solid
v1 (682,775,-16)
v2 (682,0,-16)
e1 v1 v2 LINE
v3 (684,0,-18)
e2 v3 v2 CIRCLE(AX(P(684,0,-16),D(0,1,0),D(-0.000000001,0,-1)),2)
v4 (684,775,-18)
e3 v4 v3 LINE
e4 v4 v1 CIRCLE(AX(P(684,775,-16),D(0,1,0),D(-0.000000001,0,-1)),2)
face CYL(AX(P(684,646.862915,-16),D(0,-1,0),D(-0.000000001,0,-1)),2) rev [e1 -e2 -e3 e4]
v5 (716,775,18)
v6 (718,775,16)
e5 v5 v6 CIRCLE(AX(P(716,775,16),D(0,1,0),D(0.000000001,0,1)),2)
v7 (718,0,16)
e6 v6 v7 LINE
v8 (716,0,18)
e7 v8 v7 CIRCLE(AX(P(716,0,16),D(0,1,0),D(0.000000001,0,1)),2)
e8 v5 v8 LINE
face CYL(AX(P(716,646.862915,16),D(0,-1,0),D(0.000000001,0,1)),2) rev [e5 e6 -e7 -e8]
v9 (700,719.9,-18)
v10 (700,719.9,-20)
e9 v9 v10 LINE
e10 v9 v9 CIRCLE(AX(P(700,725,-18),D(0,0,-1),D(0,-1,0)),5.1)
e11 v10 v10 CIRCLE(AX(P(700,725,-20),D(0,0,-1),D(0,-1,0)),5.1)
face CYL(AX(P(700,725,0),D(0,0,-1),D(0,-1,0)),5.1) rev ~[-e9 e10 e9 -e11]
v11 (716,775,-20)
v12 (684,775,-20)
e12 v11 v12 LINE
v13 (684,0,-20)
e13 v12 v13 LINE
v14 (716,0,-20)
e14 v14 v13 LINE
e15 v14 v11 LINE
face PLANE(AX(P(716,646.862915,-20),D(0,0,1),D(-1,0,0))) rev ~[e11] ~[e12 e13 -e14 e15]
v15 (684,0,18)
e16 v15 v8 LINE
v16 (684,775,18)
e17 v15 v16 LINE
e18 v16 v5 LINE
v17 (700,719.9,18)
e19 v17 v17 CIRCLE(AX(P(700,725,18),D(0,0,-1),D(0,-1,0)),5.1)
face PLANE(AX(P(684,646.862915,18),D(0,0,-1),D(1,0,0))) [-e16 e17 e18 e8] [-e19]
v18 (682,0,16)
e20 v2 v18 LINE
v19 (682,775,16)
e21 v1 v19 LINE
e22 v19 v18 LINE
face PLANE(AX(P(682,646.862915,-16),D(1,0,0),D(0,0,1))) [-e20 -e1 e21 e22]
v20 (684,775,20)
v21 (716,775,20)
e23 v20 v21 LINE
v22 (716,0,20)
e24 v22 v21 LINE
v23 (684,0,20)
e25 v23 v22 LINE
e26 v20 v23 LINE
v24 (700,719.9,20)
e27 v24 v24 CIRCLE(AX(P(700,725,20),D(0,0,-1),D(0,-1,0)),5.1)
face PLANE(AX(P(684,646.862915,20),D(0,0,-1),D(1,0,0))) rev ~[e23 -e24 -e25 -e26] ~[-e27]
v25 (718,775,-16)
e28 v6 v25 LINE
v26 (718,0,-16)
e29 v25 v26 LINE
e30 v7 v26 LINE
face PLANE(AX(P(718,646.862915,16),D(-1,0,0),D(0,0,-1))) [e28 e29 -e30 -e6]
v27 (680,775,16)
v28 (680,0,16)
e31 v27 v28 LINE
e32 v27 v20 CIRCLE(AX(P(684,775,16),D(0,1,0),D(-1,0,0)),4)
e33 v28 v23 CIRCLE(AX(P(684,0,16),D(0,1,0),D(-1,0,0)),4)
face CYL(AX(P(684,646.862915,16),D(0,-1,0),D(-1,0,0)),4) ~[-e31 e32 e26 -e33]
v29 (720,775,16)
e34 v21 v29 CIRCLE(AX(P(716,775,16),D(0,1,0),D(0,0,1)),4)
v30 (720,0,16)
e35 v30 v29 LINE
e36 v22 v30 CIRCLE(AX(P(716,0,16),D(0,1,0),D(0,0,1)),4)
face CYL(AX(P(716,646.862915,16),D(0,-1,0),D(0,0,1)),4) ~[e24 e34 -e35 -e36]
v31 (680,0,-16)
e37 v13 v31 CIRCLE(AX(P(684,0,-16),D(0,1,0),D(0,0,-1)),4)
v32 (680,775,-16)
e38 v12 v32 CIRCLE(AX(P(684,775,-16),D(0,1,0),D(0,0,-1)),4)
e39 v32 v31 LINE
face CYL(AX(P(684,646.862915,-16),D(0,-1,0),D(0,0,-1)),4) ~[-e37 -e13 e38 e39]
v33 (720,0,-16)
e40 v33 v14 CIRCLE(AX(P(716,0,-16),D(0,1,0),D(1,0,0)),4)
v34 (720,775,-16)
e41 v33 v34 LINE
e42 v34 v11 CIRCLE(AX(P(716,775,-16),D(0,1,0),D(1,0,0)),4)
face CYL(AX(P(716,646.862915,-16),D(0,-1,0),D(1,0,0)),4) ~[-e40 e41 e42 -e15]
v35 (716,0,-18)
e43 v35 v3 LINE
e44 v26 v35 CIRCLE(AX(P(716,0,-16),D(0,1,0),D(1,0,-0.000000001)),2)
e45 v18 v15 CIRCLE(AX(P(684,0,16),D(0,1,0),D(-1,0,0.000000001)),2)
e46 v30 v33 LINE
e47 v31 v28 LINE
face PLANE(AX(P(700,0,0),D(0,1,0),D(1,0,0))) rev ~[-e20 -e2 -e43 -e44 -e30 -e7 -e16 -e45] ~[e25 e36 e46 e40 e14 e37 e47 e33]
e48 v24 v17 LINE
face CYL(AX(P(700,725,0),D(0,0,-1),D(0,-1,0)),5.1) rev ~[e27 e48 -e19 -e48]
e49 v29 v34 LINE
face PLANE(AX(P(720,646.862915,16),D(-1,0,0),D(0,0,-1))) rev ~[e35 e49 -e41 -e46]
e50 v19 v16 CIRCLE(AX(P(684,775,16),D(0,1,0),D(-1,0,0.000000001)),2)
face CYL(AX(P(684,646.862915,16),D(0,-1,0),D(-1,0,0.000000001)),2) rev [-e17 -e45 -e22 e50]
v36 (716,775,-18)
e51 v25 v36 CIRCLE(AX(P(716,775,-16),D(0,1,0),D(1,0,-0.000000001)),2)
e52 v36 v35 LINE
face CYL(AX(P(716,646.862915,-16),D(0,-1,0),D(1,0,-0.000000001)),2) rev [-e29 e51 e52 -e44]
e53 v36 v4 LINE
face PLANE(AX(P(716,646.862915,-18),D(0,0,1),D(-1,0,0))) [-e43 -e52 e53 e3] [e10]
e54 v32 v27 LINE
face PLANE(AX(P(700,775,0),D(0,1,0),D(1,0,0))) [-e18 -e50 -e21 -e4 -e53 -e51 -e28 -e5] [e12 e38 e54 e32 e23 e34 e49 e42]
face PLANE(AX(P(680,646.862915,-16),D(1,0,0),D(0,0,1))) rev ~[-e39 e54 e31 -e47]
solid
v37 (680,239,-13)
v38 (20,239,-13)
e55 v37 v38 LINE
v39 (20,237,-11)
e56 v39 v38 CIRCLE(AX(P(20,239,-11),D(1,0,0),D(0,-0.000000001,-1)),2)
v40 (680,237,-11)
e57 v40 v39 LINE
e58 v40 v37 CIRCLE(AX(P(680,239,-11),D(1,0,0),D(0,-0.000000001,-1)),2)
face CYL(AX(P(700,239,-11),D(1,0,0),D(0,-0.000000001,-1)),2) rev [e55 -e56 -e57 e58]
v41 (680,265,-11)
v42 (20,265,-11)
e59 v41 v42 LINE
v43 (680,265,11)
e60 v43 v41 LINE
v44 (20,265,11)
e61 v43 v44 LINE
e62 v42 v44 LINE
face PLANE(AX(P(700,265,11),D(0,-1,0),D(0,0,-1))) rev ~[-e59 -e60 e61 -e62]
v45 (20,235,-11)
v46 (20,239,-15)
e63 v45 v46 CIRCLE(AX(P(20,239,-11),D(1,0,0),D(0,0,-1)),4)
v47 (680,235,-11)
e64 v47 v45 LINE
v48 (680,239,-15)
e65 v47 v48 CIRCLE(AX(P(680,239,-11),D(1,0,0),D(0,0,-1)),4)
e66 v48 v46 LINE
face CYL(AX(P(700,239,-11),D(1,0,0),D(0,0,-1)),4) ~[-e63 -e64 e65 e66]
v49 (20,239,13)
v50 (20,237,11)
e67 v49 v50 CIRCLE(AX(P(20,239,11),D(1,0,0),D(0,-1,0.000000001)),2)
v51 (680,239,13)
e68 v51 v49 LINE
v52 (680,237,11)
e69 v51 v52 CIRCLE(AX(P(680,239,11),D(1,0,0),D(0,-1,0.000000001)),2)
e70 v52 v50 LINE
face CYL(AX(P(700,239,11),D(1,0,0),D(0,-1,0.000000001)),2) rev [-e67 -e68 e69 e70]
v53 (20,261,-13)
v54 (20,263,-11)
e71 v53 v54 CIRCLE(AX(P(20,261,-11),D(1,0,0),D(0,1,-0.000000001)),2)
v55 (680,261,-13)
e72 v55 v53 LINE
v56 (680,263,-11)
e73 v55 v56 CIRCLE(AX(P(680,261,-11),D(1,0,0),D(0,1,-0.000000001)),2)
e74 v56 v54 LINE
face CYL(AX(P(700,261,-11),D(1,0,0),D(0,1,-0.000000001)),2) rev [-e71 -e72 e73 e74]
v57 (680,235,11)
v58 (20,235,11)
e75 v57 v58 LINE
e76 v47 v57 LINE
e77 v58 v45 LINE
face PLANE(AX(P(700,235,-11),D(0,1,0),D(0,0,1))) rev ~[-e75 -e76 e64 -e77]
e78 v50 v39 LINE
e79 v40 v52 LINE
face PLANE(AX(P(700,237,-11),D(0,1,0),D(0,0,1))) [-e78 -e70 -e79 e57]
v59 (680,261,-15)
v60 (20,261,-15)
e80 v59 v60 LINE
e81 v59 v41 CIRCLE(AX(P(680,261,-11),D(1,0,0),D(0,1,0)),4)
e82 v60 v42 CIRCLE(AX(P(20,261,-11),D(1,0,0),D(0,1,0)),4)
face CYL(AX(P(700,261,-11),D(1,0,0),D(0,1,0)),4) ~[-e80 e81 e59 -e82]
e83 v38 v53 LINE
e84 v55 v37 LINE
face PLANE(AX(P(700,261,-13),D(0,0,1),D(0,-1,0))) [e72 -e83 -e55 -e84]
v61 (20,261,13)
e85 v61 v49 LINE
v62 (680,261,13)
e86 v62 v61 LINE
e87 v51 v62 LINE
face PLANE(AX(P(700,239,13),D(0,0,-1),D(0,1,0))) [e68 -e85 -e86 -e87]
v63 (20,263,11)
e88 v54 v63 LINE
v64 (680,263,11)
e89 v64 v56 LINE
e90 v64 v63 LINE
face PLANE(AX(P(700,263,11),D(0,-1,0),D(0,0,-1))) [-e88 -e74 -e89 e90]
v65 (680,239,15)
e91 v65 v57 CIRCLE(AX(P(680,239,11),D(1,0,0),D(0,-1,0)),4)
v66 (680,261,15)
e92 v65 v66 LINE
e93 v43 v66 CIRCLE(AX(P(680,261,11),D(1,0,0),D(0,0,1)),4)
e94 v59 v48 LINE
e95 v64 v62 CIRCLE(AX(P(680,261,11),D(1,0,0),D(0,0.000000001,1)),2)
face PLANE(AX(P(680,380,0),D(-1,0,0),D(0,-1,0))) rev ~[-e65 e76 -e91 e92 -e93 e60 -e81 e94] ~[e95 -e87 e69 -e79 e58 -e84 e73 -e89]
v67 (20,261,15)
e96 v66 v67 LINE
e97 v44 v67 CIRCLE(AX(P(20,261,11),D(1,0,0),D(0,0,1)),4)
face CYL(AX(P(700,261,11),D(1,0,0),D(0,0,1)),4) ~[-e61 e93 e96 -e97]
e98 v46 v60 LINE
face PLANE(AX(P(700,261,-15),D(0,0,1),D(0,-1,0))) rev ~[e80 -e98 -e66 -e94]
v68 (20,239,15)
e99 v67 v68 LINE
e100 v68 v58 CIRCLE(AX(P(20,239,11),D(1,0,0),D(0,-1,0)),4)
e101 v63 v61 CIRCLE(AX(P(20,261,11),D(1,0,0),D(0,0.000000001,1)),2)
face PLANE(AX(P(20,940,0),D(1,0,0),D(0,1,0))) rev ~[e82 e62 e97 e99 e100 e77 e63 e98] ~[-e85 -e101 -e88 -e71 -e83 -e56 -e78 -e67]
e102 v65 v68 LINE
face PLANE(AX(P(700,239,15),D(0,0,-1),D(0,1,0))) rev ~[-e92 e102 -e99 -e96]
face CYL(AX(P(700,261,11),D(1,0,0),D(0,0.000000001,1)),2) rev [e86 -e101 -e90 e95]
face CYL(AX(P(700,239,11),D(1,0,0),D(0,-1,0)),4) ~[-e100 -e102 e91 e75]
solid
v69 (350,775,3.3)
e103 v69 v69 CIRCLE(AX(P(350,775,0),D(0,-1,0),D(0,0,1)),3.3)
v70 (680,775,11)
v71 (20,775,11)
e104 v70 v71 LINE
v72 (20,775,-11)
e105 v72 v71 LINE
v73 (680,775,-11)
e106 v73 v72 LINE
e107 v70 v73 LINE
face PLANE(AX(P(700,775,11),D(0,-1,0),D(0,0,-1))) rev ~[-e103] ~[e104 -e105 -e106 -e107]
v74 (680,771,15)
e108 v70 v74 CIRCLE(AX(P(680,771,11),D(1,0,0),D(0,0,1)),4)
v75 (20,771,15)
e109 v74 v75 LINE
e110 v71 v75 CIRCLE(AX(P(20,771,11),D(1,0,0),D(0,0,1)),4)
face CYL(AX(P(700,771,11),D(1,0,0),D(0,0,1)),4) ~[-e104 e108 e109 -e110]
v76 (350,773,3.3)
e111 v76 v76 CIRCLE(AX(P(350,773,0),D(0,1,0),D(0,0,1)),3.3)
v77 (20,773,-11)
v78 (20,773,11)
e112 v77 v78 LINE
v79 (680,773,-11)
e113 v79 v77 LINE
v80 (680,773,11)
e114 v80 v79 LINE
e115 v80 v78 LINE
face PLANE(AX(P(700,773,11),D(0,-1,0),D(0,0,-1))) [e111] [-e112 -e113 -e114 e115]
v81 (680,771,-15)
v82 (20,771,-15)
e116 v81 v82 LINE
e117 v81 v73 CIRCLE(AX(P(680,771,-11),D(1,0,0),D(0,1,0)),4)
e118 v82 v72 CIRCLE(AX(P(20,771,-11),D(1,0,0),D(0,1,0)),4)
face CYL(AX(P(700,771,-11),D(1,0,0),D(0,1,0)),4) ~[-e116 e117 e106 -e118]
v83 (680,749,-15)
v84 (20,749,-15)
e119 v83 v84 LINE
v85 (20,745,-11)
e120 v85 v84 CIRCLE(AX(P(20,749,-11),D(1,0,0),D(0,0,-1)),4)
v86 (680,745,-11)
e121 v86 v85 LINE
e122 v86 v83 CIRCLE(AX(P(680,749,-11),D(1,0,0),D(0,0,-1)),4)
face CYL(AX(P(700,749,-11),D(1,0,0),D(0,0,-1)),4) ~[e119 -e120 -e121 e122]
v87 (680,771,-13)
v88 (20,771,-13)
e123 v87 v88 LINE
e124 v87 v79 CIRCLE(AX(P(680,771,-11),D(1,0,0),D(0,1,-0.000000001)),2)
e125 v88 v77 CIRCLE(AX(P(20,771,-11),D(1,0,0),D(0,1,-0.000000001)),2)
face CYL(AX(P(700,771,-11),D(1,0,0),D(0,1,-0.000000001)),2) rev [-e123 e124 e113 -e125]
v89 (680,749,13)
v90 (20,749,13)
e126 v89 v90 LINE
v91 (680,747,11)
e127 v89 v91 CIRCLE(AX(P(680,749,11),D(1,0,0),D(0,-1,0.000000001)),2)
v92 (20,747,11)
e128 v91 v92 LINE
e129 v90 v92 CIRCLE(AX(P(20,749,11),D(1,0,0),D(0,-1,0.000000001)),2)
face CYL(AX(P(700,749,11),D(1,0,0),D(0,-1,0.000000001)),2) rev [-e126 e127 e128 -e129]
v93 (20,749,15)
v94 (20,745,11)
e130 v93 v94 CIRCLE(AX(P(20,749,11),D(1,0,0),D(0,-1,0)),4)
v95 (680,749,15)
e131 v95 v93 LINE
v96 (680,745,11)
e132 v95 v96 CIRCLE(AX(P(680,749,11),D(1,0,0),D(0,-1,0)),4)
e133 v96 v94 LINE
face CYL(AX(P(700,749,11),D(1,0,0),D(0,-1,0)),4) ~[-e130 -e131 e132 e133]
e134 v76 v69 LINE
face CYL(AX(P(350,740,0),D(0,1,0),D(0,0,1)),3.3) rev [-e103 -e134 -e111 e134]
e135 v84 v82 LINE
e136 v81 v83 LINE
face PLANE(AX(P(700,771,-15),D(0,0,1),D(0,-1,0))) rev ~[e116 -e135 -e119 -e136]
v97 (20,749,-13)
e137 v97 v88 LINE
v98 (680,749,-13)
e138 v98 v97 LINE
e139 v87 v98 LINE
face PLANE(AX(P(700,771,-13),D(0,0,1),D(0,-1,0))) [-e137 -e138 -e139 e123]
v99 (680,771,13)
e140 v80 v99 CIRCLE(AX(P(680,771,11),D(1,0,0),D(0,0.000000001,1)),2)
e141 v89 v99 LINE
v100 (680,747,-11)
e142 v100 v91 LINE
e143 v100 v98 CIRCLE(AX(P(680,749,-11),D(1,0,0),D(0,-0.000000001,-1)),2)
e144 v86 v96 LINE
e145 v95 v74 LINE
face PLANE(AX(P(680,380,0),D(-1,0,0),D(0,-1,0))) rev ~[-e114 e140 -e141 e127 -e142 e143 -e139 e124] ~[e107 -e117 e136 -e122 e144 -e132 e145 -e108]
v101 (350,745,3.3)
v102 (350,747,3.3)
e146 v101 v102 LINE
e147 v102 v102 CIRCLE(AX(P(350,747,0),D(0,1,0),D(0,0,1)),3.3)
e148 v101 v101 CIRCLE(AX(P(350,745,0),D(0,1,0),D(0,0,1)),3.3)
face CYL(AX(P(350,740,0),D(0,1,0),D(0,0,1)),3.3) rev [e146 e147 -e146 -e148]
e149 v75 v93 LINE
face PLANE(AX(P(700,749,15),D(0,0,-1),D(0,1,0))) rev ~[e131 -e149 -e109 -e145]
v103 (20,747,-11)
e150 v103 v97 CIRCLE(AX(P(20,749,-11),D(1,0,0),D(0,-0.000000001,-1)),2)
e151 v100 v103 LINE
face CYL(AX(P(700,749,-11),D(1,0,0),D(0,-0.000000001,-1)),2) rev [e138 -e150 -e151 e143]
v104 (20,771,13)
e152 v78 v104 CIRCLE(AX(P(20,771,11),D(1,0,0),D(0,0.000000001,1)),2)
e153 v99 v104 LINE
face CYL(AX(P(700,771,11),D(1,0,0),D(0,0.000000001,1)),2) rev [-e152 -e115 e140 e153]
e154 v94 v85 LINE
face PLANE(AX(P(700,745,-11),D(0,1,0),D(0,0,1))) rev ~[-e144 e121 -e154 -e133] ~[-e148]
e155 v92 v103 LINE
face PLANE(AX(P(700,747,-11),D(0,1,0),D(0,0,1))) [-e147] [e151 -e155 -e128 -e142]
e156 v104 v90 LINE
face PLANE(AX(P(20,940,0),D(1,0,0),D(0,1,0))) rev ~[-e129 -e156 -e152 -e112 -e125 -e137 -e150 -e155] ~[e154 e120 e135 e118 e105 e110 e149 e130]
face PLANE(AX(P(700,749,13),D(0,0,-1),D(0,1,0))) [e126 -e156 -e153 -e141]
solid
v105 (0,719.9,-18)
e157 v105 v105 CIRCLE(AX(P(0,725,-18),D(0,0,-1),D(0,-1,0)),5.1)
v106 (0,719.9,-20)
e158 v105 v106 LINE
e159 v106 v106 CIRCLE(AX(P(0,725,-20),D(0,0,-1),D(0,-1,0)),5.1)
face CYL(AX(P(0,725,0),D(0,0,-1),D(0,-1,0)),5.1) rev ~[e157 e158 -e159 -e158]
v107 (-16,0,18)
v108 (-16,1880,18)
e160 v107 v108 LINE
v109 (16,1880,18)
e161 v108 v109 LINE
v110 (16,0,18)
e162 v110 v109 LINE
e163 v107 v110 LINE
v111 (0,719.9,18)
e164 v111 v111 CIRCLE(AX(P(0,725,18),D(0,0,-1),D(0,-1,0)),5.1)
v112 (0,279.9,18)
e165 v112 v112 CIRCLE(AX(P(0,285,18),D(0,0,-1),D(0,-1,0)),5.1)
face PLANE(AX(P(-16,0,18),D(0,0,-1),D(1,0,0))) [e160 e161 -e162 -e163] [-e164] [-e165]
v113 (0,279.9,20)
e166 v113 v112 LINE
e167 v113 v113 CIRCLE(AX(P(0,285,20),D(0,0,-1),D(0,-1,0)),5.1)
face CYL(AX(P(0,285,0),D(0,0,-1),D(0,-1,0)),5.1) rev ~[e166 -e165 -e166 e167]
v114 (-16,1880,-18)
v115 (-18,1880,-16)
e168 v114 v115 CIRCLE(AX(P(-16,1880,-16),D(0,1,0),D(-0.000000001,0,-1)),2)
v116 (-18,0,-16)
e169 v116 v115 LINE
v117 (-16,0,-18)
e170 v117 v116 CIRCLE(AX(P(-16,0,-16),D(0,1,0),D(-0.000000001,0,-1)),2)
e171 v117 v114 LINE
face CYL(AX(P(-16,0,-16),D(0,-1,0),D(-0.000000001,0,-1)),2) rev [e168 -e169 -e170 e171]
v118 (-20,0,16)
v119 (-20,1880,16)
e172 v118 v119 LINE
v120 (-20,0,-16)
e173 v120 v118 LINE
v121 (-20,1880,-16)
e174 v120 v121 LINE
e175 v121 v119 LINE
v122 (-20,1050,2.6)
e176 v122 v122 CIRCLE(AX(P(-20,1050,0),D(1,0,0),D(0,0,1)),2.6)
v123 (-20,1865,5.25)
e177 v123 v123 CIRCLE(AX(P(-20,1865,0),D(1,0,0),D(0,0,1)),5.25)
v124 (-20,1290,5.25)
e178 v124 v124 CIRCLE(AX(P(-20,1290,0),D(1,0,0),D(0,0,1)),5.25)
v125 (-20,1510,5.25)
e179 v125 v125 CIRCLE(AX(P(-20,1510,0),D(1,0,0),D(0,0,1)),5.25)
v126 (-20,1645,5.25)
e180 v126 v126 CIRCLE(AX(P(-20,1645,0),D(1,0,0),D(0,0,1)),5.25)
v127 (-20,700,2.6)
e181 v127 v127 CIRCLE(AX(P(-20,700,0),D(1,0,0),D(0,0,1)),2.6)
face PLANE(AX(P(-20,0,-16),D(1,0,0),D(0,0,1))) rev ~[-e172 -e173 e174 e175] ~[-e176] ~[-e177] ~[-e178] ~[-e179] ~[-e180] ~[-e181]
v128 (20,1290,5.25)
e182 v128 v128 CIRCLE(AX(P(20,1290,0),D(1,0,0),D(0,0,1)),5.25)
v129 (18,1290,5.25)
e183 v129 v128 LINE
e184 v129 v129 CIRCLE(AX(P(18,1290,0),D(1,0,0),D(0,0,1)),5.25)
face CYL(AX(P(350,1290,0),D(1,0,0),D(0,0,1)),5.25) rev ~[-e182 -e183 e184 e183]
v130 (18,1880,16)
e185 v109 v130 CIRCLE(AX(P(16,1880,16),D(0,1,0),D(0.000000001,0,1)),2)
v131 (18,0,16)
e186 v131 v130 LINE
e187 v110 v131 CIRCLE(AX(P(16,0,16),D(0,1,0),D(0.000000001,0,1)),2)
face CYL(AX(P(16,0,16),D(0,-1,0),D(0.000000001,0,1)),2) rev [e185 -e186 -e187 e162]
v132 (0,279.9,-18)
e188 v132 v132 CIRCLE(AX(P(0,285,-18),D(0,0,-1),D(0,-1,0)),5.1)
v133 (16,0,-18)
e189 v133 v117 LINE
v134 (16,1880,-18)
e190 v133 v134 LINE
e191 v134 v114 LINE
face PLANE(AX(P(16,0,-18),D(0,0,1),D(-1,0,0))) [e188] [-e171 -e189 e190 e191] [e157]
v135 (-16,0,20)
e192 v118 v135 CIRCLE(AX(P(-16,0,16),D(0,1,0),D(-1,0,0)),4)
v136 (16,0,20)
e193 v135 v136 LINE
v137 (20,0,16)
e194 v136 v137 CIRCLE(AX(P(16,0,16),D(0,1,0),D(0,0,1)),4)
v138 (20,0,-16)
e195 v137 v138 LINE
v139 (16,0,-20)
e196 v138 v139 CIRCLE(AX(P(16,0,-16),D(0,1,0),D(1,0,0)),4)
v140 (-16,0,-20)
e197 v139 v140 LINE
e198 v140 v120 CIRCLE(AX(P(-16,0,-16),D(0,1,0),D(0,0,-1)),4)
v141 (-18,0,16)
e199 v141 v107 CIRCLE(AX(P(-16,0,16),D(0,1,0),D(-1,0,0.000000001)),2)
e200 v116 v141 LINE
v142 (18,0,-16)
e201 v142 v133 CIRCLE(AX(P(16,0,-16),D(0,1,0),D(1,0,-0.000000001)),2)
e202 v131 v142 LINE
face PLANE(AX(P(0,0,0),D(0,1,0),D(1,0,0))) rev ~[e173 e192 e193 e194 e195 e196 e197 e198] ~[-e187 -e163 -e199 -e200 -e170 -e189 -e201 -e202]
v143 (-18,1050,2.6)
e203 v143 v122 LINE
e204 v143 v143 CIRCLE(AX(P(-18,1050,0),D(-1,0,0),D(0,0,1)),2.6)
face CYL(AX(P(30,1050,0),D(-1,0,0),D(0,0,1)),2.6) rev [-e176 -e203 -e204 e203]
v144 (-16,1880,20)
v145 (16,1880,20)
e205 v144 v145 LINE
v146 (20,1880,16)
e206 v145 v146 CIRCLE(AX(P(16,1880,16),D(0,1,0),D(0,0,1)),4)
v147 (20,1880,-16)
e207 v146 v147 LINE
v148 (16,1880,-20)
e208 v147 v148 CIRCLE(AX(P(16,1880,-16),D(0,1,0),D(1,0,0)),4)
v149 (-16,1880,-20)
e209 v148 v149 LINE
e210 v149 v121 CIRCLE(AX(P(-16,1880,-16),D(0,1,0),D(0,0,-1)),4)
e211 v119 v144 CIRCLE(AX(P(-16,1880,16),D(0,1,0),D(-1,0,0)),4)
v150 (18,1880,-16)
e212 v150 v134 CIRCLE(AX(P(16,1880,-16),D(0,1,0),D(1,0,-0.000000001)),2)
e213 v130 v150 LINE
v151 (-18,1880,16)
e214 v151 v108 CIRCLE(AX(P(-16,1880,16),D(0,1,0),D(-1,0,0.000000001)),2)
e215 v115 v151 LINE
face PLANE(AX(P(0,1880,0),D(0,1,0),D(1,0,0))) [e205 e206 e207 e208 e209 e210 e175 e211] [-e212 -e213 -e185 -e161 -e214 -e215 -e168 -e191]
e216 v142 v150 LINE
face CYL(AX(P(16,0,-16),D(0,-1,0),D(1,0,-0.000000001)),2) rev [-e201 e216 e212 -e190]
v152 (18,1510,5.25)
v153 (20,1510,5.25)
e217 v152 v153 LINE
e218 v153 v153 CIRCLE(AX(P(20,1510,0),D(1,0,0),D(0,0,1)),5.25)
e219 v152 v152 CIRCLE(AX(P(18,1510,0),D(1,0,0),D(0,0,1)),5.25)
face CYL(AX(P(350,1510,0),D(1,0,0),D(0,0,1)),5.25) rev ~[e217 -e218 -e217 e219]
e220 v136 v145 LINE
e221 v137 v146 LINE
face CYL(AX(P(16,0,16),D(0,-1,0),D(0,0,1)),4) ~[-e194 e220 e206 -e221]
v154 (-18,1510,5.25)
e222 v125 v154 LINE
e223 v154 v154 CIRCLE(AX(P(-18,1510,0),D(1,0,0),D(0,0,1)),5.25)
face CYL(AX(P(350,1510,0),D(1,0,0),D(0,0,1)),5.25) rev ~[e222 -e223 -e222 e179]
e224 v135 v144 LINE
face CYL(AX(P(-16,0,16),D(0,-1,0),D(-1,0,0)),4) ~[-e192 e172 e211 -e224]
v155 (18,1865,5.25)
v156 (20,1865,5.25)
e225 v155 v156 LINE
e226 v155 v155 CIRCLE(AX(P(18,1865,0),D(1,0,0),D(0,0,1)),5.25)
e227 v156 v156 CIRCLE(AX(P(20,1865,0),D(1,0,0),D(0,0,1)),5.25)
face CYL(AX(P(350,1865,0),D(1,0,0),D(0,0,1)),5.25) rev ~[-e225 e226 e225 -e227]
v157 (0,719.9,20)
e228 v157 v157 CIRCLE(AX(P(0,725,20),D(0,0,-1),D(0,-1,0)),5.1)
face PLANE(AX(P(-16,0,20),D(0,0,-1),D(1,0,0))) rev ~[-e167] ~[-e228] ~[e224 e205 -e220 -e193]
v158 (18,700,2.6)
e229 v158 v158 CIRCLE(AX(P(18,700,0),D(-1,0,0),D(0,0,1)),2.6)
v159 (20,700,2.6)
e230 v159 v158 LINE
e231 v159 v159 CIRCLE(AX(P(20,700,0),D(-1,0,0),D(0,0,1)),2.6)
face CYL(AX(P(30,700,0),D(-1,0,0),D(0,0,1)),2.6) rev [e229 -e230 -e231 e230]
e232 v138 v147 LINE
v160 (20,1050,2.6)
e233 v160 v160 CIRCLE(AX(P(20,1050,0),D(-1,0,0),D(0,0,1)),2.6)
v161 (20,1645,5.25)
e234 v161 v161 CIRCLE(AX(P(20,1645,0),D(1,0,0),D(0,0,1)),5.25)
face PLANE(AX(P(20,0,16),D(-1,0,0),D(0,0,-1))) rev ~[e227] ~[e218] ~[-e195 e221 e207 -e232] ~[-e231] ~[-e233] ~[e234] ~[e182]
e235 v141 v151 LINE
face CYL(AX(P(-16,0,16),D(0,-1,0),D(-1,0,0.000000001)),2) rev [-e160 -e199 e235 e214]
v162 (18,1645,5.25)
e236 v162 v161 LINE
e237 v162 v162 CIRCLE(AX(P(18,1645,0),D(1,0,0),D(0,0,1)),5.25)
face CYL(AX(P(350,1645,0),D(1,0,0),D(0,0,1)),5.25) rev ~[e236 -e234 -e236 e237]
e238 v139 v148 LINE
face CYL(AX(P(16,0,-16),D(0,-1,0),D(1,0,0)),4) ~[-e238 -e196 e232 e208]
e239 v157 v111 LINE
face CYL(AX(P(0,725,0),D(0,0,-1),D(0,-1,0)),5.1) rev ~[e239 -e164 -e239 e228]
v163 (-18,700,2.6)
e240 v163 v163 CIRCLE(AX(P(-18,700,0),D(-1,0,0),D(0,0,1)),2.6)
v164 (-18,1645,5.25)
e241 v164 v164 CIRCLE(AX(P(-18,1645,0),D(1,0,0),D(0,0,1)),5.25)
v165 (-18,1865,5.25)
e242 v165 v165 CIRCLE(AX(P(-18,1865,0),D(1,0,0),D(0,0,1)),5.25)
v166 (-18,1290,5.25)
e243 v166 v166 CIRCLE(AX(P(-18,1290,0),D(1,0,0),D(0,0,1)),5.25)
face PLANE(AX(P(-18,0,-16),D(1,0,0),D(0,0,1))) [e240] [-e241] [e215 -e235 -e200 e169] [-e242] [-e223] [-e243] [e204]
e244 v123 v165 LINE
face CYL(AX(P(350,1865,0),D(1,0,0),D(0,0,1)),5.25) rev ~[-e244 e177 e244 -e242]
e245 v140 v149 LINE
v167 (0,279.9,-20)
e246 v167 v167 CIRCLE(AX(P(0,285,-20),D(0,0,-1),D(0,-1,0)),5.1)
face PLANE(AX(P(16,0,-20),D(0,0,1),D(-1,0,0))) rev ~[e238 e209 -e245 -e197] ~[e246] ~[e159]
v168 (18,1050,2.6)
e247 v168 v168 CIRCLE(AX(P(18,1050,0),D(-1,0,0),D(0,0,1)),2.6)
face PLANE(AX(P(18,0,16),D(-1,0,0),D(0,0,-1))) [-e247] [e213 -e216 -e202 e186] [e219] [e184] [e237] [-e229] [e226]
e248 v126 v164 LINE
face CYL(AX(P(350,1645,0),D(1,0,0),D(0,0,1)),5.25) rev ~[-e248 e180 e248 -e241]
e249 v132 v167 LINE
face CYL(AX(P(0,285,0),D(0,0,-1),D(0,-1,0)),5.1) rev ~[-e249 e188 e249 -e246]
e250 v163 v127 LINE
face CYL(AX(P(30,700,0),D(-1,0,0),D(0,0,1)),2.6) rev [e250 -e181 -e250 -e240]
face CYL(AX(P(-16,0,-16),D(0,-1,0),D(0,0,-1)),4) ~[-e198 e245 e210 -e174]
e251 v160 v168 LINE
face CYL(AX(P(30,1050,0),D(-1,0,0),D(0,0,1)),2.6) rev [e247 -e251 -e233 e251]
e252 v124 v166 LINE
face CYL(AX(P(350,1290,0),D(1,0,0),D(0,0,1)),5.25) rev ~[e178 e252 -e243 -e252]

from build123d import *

# Parameters (mm, degrees)
SQUARE_TUBE_CONFIGURED_40_X_40_X_2_1_DEPTH   = 1880
SQUARE_TUBE_CONFIGURED_40_X_40_X_2_1_2_DEPTH = 760
SQUARE_TUBE_CONFIGURED_20_X_20_X_2_1_DEPTH   = 700
SQUARE_TUBE_CONFIGURED_20_X_20_X_2_1_2_DEPTH = 700
BODY_START                                   = 646.86291501
BODY_2_RUN_ON_DEPTH                          = 128.13708499
SKETCH3_W                                    = 5.1
SKETCH3_H                                    = 40
F_10_2_10_2_FRAME_TOGETHER_AT_2_COUNT        = 2
F_10_2_10_2_FRAME_TOGETHER_AT_2_PITCH        = 700
F_10_2_10_2_FRAME_TOGETHER_AT_3_COUNT        = 2
F_10_2_10_2_FRAME_TOGETHER_AT_3_PITCH        = 826.801064344
SKETCH5_W                                    = 5.25
SKETCH5_H                                    = 740
F_10_5_10_5_SHELF_HOLES_AT_2_COUNT           = 2
F_10_5_10_5_SHELF_HOLES_AT_2_PITCH           = 220
F_10_5_10_5_SHELF_HOLES_AT_3_COUNT           = 2
F_10_5_10_5_SHELF_HOLES_AT_3_PITCH           = 355
F_10_5_10_5_SHELF_HOLES_AT_4_COUNT           = 2
F_10_5_10_5_SHELF_HOLES_AT_4_PITCH           = 575
F_5_2_5_2_VERTICAL_WALL_HOLES_AT_2_COUNT     = 2
F_5_2_5_2_VERTICAL_WALL_HOLES_AT_2_PITCH     = 350


with BuildPart() as part:
    # Sketch1 → Square tube - configured 40 X 40 X 2(1) (new body)
    with BuildSketch(Plane(origin=(0, 0, 0), x_dir=(1, 0, 0), z_dir=(0, 1, 0))):
        with BuildLine():
            Line((-16, -20), (16, -20))
            ThreePointArc((16, -20), (18.828427125, -18.828427125), (20, -16))
            Line((20, -16), (20, 16))
            ThreePointArc((20, 16), (18.828427125, 18.828427125), (16, 20))
            Line((16, 20), (-16, 20))
            ThreePointArc((-16, 20), (-18.828427125, 18.828427125), (-20, 16))
            Line((-20, 16), (-20, -16))
            ThreePointArc((-20, -16), (-18.828427125, -18.828427125), (-16, -20))
        make_face()
        with BuildLine():
            Line((-16, -18), (16, -18))
            ThreePointArc((16, -18), (17.414213562, -17.414213562), (18, -16))
            Line((18, -16), (18, 16))
            ThreePointArc((18, 16), (17.414213562, 17.414213562), (16, 18))
            Line((16, 18), (-16, 18))
            ThreePointArc((-16, 18), (-17.414213562, 17.414213562), (-18, 16))
            Line((-18, 16), (-18, -16))
            ThreePointArc((-18, -16), (-17.414213562, -17.414213562), (-16, -18))
        make_face(mode=Mode.SUBTRACT)
    extrude(amount=SQUARE_TUBE_CONFIGURED_40_X_40_X_2_1_DEPTH)


with BuildPart() as body_2:
    # Sketch1 on segment 2 (carried to segment 2) → Square tube - configured 40 X 40 X 2_1 2 (new body)
    with BuildSketch(Plane(origin=(700, 0, 0), x_dir=(1, 0, 0), z_dir=(0, 1, 0))):
        with BuildLine():
            Line((-16, -20), (16, -20))
            ThreePointArc((16, -20), (18.828427125, -18.828427125), (20, -16))
            Line((20, -16), (20, 16))
            ThreePointArc((20, 16), (18.828427125, 18.828427125), (16, 20))
            Line((16, 20), (-16, 20))
            ThreePointArc((-16, 20), (-18.828427125, 18.828427125), (-20, 16))
            Line((-20, 16), (-20, -16))
            ThreePointArc((-20, -16), (-18.828427125, -18.828427125), (-16, -20))
        make_face()
        with BuildLine():
            Line((-16, -18), (16, -18))
            ThreePointArc((16, -18), (17.414213562, -17.414213562), (18, -16))
            Line((18, -16), (18, 16))
            ThreePointArc((18, 16), (17.414213562, 17.414213562), (16, 18))
            Line((16, 18), (-16, 18))
            ThreePointArc((-16, 18), (-17.414213562, 17.414213562), (-18, 16))
            Line((-18, 16), (-18, -16))
            ThreePointArc((-18, -16), (-17.414213562, -17.414213562), (-16, -18))
        make_face(mode=Mode.SUBTRACT)
    extrude(amount=SQUARE_TUBE_CONFIGURED_40_X_40_X_2_1_2_DEPTH)

    # body 2 cut square before the run-on
    split(bisect_by=Plane(origin=(700, 646.86291501, 0), x_dir=(1, 0, 0), z_dir=(0, -1, 0)), keep=Keep.TOP)

    # Sketch1 on segment 2 (carried to segment 2) → body 2 run on (add)
    with BuildSketch(Plane(origin=(700, 0, 0), x_dir=(1, 0, 0), z_dir=(0, 1, 0)).offset(BODY_START)):
        with BuildLine():
            Line((-16, -20), (16, -20))
            ThreePointArc((16, -20), (18.828427125, -18.828427125), (20, -16))
            Line((20, -16), (20, 16))
            ThreePointArc((20, 16), (18.828427125, 18.828427125), (16, 20))
            Line((16, 20), (-16, 20))
            ThreePointArc((-16, 20), (-18.828427125, 18.828427125), (-20, 16))
            Line((-20, 16), (-20, -16))
            ThreePointArc((-20, -16), (-18.828427125, -18.828427125), (-16, -20))
        make_face()
        with BuildLine():
            Line((-16, -18), (16, -18))
            ThreePointArc((16, -18), (17.414213562, -17.414213562), (18, -16))
            Line((18, -16), (18, 16))
            ThreePointArc((18, 16), (17.414213562, 17.414213562), (16, 18))
            Line((16, 18), (-16, 18))
            ThreePointArc((-16, 18), (-17.414213562, 17.414213562), (-18, 16))
            Line((-18, 16), (-18, -16))
            ThreePointArc((-18, -16), (-17.414213562, -17.414213562), (-16, -18))
        make_face(mode=Mode.SUBTRACT)
    extrude(amount=BODY_2_RUN_ON_DEPTH)

    # Sketch3 → Ø10.2 (10.2) Frame Together (revolve, cut)
    with BuildSketch(Plane(origin=(700, 725, 20), x_dir=(0, -1, 0), z_dir=(1, 0, 0))):
        with Locations((2.55, 20)):
            Rectangle(SKETCH3_W, SKETCH3_H)
    f_10_2_10_2_frame_together = revolve(axis=Axis((700, 725, 26.35), (0, 0, -1)), mode=Mode.SUBTRACT)


with BuildPart() as body_3:
    # Sketch11 → Square tube - configured 20 X 20 X 2(1) (new body)
    with BuildSketch(Plane(origin=(700, 760, 0), x_dir=(0, 0, 1), z_dir=(-1, 0, 0))):
        with BuildLine():
            Line((-11, -15), (11, -15))
            ThreePointArc((11, -15), (13.828427125, -13.828427125), (15, -11))
            Line((15, -11), (15, 11))
            ThreePointArc((15, 11), (13.828427125, 13.828427125), (11, 15))
            Line((11, 15), (-11, 15))
            ThreePointArc((-11, 15), (-13.828427125, 13.828427125), (-15, 11))
            Line((-15, 11), (-15, -11))
            ThreePointArc((-15, -11), (-13.828427125, -13.828427125), (-11, -15))
        make_face()
        with BuildLine():
            Line((-11, -13), (11, -13))
            ThreePointArc((11, -13), (12.414213562, -12.414213562), (13, -11))
            Line((13, -11), (13, 11))
            ThreePointArc((13, 11), (12.414213562, 12.414213562), (11, 13))
            Line((11, 13), (-11, 13))
            ThreePointArc((-11, 13), (-12.414213562, 12.414213562), (-13, 11))
            Line((-13, 11), (-13, -11))
            ThreePointArc((-13, -11), (-12.414213562, -12.414213562), (-11, -13))
        make_face(mode=Mode.SUBTRACT)
    extrude(amount=SQUARE_TUBE_CONFIGURED_20_X_20_X_2_1_DEPTH)

    # Trim/Extend1
    split(bisect_by=Plane(origin=(20, 940, 0), x_dir=(0, 1, 0), z_dir=(1, 0, 0)), keep=Keep.TOP)

    # Trim_Extend1 3
    split(bisect_by=Plane(origin=(680, 380, 0), x_dir=(0, -1, 0), z_dir=(-1, 0, 0)), keep=Keep.TOP)

    # Sketch13 → M6 Clearance Hole for table (revolve, cut)
    with BuildSketch(Plane(origin=(350, 775, 0), x_dir=(0, 0, 1), z_dir=(1, 0, 0))):
        Polygon((0, 0), (0, 36.982840043), (3.3, 35), (3.3, 0), align=None)
    revolve(axis=Axis((350, 781.35, 0), (0, -1, 0)), mode=Mode.SUBTRACT)


with BuildPart() as body_4:
    # Sketch11 on segment 2 (carried to segment 2) → Square tube - configured 20 X 20 X 2_1 2 (new body)
    with BuildSketch(Plane(origin=(700, 250, 0), x_dir=(0, 0, 1), z_dir=(-1, 0, 0))):
        with BuildLine():
            Line((-11, -15), (11, -15))
            ThreePointArc((11, -15), (13.828427125, -13.828427125), (15, -11))
            Line((15, -11), (15, 11))
            ThreePointArc((15, 11), (13.828427125, 13.828427125), (11, 15))
            Line((11, 15), (-11, 15))
            ThreePointArc((-11, 15), (-13.828427125, 13.828427125), (-15, 11))
            Line((-15, 11), (-15, -11))
            ThreePointArc((-15, -11), (-13.828427125, -13.828427125), (-11, -15))
        make_face()
        with BuildLine():
            Line((-11, -13), (11, -13))
            ThreePointArc((11, -13), (12.414213562, -12.414213562), (13, -11))
            Line((13, -11), (13, 11))
            ThreePointArc((13, 11), (12.414213562, 12.414213562), (11, 13))
            Line((11, 13), (-11, 13))
            ThreePointArc((-11, 13), (-12.414213562, 12.414213562), (-13, 11))
            Line((-13, 11), (-13, -11))
            ThreePointArc((-13, -11), (-12.414213562, -12.414213562), (-11, -13))
        make_face(mode=Mode.SUBTRACT)
    extrude(amount=SQUARE_TUBE_CONFIGURED_20_X_20_X_2_1_2_DEPTH)

    # Trim/Extend2
    split(bisect_by=Plane(origin=(20, 940, 0), x_dir=(0, 1, 0), z_dir=(1, 0, 0)), keep=Keep.TOP)

    # Trim_Extend2 3
    split(bisect_by=Plane(origin=(680, 380, 0), x_dir=(0, -1, 0), z_dir=(-1, 0, 0)), keep=Keep.TOP)


with BuildPart() as part_1:
    add(part.part)

    # Ø10.2 (10.2) Frame Together at 2: Ø10.2 (10.2) Frame Together ×2
    with Locations(*[(-i * F_10_2_10_2_FRAME_TOGETHER_AT_2_PITCH, 0, 0) for i in range(1, F_10_2_10_2_FRAME_TOGETHER_AT_2_COUNT)]):
        add(f_10_2_10_2_frame_together, mode=Mode.SUBTRACT)

    # Ø10.2 (10.2) Frame Together at 3: Ø10.2 (10.2) Frame Together ×2
    with Locations(*[Vector(-0.8466365492110047, -0.5321715452183461, 0) * (i * F_10_2_10_2_FRAME_TOGETHER_AT_3_PITCH) for i in range(1, F_10_2_10_2_FRAME_TOGETHER_AT_3_COUNT)]):
        add(f_10_2_10_2_frame_together, mode=Mode.SUBTRACT)

    # Sketch5 → Ø10.5 (10.5) Shelf Holes (revolve, cut)
    with BuildSketch(Plane(origin=(-20, 1290, 0), x_dir=(0, 0, 1), z_dir=(0, 1, 0))):
        with Locations((2.625, 370)):
            Rectangle(SKETCH5_W, SKETCH5_H)
    f_10_5_10_5_shelf_holes = revolve(axis=Axis((-26.35, 1290, 0), (1, 0, 0)), mode=Mode.SUBTRACT)

    # Ø10.5 (10.5) Shelf Holes at 2: Ø10.5 (10.5) Shelf Holes ×2
    with Locations(*[(0, i * F_10_5_10_5_SHELF_HOLES_AT_2_PITCH, 0) for i in range(1, F_10_5_10_5_SHELF_HOLES_AT_2_COUNT)]):
        add(f_10_5_10_5_shelf_holes, mode=Mode.SUBTRACT)

    # Ø10.5 (10.5) Shelf Holes at 3: Ø10.5 (10.5) Shelf Holes ×2
    with Locations(*[(0, i * F_10_5_10_5_SHELF_HOLES_AT_3_PITCH, 0) for i in range(1, F_10_5_10_5_SHELF_HOLES_AT_3_COUNT)]):
        add(f_10_5_10_5_shelf_holes, mode=Mode.SUBTRACT)

    # Ø10.5 (10.5) Shelf Holes at 4: Ø10.5 (10.5) Shelf Holes ×2
    with Locations(*[(0, i * F_10_5_10_5_SHELF_HOLES_AT_4_PITCH, 0) for i in range(1, F_10_5_10_5_SHELF_HOLES_AT_4_COUNT)]):
        add(f_10_5_10_5_shelf_holes, mode=Mode.SUBTRACT)

    # Sketch9 → Ø5.2 (5.2) Vertical Wall Holes (revolve, cut)
    with BuildSketch(Plane(origin=(-20, 700, 0), x_dir=(0, 0, 1), z_dir=(0, 1, 0))):
        Polygon((0, 0), (0, 51.562237609), (2.6, 50), (2.6, 0), align=None)
    f_5_2_5_2_vertical_wall_holes = revolve(axis=Axis((-26.35, 700, 0), (1, 0, 0)), mode=Mode.SUBTRACT)

    # Ø5.2 (5.2) Vertical Wall Holes at 2: Ø5.2 (5.2) Vertical Wall Holes ×2
    with Locations(*[(0, i * F_5_2_5_2_VERTICAL_WALL_HOLES_AT_2_PITCH, 0) for i in range(1, F_5_2_5_2_VERTICAL_WALL_HOLES_AT_2_COUNT)]):
        add(f_5_2_5_2_vertical_wall_holes, mode=Mode.SUBTRACT)


solid = Compound([body_2.part, body_3.part, body_4.part, part_1.part])
